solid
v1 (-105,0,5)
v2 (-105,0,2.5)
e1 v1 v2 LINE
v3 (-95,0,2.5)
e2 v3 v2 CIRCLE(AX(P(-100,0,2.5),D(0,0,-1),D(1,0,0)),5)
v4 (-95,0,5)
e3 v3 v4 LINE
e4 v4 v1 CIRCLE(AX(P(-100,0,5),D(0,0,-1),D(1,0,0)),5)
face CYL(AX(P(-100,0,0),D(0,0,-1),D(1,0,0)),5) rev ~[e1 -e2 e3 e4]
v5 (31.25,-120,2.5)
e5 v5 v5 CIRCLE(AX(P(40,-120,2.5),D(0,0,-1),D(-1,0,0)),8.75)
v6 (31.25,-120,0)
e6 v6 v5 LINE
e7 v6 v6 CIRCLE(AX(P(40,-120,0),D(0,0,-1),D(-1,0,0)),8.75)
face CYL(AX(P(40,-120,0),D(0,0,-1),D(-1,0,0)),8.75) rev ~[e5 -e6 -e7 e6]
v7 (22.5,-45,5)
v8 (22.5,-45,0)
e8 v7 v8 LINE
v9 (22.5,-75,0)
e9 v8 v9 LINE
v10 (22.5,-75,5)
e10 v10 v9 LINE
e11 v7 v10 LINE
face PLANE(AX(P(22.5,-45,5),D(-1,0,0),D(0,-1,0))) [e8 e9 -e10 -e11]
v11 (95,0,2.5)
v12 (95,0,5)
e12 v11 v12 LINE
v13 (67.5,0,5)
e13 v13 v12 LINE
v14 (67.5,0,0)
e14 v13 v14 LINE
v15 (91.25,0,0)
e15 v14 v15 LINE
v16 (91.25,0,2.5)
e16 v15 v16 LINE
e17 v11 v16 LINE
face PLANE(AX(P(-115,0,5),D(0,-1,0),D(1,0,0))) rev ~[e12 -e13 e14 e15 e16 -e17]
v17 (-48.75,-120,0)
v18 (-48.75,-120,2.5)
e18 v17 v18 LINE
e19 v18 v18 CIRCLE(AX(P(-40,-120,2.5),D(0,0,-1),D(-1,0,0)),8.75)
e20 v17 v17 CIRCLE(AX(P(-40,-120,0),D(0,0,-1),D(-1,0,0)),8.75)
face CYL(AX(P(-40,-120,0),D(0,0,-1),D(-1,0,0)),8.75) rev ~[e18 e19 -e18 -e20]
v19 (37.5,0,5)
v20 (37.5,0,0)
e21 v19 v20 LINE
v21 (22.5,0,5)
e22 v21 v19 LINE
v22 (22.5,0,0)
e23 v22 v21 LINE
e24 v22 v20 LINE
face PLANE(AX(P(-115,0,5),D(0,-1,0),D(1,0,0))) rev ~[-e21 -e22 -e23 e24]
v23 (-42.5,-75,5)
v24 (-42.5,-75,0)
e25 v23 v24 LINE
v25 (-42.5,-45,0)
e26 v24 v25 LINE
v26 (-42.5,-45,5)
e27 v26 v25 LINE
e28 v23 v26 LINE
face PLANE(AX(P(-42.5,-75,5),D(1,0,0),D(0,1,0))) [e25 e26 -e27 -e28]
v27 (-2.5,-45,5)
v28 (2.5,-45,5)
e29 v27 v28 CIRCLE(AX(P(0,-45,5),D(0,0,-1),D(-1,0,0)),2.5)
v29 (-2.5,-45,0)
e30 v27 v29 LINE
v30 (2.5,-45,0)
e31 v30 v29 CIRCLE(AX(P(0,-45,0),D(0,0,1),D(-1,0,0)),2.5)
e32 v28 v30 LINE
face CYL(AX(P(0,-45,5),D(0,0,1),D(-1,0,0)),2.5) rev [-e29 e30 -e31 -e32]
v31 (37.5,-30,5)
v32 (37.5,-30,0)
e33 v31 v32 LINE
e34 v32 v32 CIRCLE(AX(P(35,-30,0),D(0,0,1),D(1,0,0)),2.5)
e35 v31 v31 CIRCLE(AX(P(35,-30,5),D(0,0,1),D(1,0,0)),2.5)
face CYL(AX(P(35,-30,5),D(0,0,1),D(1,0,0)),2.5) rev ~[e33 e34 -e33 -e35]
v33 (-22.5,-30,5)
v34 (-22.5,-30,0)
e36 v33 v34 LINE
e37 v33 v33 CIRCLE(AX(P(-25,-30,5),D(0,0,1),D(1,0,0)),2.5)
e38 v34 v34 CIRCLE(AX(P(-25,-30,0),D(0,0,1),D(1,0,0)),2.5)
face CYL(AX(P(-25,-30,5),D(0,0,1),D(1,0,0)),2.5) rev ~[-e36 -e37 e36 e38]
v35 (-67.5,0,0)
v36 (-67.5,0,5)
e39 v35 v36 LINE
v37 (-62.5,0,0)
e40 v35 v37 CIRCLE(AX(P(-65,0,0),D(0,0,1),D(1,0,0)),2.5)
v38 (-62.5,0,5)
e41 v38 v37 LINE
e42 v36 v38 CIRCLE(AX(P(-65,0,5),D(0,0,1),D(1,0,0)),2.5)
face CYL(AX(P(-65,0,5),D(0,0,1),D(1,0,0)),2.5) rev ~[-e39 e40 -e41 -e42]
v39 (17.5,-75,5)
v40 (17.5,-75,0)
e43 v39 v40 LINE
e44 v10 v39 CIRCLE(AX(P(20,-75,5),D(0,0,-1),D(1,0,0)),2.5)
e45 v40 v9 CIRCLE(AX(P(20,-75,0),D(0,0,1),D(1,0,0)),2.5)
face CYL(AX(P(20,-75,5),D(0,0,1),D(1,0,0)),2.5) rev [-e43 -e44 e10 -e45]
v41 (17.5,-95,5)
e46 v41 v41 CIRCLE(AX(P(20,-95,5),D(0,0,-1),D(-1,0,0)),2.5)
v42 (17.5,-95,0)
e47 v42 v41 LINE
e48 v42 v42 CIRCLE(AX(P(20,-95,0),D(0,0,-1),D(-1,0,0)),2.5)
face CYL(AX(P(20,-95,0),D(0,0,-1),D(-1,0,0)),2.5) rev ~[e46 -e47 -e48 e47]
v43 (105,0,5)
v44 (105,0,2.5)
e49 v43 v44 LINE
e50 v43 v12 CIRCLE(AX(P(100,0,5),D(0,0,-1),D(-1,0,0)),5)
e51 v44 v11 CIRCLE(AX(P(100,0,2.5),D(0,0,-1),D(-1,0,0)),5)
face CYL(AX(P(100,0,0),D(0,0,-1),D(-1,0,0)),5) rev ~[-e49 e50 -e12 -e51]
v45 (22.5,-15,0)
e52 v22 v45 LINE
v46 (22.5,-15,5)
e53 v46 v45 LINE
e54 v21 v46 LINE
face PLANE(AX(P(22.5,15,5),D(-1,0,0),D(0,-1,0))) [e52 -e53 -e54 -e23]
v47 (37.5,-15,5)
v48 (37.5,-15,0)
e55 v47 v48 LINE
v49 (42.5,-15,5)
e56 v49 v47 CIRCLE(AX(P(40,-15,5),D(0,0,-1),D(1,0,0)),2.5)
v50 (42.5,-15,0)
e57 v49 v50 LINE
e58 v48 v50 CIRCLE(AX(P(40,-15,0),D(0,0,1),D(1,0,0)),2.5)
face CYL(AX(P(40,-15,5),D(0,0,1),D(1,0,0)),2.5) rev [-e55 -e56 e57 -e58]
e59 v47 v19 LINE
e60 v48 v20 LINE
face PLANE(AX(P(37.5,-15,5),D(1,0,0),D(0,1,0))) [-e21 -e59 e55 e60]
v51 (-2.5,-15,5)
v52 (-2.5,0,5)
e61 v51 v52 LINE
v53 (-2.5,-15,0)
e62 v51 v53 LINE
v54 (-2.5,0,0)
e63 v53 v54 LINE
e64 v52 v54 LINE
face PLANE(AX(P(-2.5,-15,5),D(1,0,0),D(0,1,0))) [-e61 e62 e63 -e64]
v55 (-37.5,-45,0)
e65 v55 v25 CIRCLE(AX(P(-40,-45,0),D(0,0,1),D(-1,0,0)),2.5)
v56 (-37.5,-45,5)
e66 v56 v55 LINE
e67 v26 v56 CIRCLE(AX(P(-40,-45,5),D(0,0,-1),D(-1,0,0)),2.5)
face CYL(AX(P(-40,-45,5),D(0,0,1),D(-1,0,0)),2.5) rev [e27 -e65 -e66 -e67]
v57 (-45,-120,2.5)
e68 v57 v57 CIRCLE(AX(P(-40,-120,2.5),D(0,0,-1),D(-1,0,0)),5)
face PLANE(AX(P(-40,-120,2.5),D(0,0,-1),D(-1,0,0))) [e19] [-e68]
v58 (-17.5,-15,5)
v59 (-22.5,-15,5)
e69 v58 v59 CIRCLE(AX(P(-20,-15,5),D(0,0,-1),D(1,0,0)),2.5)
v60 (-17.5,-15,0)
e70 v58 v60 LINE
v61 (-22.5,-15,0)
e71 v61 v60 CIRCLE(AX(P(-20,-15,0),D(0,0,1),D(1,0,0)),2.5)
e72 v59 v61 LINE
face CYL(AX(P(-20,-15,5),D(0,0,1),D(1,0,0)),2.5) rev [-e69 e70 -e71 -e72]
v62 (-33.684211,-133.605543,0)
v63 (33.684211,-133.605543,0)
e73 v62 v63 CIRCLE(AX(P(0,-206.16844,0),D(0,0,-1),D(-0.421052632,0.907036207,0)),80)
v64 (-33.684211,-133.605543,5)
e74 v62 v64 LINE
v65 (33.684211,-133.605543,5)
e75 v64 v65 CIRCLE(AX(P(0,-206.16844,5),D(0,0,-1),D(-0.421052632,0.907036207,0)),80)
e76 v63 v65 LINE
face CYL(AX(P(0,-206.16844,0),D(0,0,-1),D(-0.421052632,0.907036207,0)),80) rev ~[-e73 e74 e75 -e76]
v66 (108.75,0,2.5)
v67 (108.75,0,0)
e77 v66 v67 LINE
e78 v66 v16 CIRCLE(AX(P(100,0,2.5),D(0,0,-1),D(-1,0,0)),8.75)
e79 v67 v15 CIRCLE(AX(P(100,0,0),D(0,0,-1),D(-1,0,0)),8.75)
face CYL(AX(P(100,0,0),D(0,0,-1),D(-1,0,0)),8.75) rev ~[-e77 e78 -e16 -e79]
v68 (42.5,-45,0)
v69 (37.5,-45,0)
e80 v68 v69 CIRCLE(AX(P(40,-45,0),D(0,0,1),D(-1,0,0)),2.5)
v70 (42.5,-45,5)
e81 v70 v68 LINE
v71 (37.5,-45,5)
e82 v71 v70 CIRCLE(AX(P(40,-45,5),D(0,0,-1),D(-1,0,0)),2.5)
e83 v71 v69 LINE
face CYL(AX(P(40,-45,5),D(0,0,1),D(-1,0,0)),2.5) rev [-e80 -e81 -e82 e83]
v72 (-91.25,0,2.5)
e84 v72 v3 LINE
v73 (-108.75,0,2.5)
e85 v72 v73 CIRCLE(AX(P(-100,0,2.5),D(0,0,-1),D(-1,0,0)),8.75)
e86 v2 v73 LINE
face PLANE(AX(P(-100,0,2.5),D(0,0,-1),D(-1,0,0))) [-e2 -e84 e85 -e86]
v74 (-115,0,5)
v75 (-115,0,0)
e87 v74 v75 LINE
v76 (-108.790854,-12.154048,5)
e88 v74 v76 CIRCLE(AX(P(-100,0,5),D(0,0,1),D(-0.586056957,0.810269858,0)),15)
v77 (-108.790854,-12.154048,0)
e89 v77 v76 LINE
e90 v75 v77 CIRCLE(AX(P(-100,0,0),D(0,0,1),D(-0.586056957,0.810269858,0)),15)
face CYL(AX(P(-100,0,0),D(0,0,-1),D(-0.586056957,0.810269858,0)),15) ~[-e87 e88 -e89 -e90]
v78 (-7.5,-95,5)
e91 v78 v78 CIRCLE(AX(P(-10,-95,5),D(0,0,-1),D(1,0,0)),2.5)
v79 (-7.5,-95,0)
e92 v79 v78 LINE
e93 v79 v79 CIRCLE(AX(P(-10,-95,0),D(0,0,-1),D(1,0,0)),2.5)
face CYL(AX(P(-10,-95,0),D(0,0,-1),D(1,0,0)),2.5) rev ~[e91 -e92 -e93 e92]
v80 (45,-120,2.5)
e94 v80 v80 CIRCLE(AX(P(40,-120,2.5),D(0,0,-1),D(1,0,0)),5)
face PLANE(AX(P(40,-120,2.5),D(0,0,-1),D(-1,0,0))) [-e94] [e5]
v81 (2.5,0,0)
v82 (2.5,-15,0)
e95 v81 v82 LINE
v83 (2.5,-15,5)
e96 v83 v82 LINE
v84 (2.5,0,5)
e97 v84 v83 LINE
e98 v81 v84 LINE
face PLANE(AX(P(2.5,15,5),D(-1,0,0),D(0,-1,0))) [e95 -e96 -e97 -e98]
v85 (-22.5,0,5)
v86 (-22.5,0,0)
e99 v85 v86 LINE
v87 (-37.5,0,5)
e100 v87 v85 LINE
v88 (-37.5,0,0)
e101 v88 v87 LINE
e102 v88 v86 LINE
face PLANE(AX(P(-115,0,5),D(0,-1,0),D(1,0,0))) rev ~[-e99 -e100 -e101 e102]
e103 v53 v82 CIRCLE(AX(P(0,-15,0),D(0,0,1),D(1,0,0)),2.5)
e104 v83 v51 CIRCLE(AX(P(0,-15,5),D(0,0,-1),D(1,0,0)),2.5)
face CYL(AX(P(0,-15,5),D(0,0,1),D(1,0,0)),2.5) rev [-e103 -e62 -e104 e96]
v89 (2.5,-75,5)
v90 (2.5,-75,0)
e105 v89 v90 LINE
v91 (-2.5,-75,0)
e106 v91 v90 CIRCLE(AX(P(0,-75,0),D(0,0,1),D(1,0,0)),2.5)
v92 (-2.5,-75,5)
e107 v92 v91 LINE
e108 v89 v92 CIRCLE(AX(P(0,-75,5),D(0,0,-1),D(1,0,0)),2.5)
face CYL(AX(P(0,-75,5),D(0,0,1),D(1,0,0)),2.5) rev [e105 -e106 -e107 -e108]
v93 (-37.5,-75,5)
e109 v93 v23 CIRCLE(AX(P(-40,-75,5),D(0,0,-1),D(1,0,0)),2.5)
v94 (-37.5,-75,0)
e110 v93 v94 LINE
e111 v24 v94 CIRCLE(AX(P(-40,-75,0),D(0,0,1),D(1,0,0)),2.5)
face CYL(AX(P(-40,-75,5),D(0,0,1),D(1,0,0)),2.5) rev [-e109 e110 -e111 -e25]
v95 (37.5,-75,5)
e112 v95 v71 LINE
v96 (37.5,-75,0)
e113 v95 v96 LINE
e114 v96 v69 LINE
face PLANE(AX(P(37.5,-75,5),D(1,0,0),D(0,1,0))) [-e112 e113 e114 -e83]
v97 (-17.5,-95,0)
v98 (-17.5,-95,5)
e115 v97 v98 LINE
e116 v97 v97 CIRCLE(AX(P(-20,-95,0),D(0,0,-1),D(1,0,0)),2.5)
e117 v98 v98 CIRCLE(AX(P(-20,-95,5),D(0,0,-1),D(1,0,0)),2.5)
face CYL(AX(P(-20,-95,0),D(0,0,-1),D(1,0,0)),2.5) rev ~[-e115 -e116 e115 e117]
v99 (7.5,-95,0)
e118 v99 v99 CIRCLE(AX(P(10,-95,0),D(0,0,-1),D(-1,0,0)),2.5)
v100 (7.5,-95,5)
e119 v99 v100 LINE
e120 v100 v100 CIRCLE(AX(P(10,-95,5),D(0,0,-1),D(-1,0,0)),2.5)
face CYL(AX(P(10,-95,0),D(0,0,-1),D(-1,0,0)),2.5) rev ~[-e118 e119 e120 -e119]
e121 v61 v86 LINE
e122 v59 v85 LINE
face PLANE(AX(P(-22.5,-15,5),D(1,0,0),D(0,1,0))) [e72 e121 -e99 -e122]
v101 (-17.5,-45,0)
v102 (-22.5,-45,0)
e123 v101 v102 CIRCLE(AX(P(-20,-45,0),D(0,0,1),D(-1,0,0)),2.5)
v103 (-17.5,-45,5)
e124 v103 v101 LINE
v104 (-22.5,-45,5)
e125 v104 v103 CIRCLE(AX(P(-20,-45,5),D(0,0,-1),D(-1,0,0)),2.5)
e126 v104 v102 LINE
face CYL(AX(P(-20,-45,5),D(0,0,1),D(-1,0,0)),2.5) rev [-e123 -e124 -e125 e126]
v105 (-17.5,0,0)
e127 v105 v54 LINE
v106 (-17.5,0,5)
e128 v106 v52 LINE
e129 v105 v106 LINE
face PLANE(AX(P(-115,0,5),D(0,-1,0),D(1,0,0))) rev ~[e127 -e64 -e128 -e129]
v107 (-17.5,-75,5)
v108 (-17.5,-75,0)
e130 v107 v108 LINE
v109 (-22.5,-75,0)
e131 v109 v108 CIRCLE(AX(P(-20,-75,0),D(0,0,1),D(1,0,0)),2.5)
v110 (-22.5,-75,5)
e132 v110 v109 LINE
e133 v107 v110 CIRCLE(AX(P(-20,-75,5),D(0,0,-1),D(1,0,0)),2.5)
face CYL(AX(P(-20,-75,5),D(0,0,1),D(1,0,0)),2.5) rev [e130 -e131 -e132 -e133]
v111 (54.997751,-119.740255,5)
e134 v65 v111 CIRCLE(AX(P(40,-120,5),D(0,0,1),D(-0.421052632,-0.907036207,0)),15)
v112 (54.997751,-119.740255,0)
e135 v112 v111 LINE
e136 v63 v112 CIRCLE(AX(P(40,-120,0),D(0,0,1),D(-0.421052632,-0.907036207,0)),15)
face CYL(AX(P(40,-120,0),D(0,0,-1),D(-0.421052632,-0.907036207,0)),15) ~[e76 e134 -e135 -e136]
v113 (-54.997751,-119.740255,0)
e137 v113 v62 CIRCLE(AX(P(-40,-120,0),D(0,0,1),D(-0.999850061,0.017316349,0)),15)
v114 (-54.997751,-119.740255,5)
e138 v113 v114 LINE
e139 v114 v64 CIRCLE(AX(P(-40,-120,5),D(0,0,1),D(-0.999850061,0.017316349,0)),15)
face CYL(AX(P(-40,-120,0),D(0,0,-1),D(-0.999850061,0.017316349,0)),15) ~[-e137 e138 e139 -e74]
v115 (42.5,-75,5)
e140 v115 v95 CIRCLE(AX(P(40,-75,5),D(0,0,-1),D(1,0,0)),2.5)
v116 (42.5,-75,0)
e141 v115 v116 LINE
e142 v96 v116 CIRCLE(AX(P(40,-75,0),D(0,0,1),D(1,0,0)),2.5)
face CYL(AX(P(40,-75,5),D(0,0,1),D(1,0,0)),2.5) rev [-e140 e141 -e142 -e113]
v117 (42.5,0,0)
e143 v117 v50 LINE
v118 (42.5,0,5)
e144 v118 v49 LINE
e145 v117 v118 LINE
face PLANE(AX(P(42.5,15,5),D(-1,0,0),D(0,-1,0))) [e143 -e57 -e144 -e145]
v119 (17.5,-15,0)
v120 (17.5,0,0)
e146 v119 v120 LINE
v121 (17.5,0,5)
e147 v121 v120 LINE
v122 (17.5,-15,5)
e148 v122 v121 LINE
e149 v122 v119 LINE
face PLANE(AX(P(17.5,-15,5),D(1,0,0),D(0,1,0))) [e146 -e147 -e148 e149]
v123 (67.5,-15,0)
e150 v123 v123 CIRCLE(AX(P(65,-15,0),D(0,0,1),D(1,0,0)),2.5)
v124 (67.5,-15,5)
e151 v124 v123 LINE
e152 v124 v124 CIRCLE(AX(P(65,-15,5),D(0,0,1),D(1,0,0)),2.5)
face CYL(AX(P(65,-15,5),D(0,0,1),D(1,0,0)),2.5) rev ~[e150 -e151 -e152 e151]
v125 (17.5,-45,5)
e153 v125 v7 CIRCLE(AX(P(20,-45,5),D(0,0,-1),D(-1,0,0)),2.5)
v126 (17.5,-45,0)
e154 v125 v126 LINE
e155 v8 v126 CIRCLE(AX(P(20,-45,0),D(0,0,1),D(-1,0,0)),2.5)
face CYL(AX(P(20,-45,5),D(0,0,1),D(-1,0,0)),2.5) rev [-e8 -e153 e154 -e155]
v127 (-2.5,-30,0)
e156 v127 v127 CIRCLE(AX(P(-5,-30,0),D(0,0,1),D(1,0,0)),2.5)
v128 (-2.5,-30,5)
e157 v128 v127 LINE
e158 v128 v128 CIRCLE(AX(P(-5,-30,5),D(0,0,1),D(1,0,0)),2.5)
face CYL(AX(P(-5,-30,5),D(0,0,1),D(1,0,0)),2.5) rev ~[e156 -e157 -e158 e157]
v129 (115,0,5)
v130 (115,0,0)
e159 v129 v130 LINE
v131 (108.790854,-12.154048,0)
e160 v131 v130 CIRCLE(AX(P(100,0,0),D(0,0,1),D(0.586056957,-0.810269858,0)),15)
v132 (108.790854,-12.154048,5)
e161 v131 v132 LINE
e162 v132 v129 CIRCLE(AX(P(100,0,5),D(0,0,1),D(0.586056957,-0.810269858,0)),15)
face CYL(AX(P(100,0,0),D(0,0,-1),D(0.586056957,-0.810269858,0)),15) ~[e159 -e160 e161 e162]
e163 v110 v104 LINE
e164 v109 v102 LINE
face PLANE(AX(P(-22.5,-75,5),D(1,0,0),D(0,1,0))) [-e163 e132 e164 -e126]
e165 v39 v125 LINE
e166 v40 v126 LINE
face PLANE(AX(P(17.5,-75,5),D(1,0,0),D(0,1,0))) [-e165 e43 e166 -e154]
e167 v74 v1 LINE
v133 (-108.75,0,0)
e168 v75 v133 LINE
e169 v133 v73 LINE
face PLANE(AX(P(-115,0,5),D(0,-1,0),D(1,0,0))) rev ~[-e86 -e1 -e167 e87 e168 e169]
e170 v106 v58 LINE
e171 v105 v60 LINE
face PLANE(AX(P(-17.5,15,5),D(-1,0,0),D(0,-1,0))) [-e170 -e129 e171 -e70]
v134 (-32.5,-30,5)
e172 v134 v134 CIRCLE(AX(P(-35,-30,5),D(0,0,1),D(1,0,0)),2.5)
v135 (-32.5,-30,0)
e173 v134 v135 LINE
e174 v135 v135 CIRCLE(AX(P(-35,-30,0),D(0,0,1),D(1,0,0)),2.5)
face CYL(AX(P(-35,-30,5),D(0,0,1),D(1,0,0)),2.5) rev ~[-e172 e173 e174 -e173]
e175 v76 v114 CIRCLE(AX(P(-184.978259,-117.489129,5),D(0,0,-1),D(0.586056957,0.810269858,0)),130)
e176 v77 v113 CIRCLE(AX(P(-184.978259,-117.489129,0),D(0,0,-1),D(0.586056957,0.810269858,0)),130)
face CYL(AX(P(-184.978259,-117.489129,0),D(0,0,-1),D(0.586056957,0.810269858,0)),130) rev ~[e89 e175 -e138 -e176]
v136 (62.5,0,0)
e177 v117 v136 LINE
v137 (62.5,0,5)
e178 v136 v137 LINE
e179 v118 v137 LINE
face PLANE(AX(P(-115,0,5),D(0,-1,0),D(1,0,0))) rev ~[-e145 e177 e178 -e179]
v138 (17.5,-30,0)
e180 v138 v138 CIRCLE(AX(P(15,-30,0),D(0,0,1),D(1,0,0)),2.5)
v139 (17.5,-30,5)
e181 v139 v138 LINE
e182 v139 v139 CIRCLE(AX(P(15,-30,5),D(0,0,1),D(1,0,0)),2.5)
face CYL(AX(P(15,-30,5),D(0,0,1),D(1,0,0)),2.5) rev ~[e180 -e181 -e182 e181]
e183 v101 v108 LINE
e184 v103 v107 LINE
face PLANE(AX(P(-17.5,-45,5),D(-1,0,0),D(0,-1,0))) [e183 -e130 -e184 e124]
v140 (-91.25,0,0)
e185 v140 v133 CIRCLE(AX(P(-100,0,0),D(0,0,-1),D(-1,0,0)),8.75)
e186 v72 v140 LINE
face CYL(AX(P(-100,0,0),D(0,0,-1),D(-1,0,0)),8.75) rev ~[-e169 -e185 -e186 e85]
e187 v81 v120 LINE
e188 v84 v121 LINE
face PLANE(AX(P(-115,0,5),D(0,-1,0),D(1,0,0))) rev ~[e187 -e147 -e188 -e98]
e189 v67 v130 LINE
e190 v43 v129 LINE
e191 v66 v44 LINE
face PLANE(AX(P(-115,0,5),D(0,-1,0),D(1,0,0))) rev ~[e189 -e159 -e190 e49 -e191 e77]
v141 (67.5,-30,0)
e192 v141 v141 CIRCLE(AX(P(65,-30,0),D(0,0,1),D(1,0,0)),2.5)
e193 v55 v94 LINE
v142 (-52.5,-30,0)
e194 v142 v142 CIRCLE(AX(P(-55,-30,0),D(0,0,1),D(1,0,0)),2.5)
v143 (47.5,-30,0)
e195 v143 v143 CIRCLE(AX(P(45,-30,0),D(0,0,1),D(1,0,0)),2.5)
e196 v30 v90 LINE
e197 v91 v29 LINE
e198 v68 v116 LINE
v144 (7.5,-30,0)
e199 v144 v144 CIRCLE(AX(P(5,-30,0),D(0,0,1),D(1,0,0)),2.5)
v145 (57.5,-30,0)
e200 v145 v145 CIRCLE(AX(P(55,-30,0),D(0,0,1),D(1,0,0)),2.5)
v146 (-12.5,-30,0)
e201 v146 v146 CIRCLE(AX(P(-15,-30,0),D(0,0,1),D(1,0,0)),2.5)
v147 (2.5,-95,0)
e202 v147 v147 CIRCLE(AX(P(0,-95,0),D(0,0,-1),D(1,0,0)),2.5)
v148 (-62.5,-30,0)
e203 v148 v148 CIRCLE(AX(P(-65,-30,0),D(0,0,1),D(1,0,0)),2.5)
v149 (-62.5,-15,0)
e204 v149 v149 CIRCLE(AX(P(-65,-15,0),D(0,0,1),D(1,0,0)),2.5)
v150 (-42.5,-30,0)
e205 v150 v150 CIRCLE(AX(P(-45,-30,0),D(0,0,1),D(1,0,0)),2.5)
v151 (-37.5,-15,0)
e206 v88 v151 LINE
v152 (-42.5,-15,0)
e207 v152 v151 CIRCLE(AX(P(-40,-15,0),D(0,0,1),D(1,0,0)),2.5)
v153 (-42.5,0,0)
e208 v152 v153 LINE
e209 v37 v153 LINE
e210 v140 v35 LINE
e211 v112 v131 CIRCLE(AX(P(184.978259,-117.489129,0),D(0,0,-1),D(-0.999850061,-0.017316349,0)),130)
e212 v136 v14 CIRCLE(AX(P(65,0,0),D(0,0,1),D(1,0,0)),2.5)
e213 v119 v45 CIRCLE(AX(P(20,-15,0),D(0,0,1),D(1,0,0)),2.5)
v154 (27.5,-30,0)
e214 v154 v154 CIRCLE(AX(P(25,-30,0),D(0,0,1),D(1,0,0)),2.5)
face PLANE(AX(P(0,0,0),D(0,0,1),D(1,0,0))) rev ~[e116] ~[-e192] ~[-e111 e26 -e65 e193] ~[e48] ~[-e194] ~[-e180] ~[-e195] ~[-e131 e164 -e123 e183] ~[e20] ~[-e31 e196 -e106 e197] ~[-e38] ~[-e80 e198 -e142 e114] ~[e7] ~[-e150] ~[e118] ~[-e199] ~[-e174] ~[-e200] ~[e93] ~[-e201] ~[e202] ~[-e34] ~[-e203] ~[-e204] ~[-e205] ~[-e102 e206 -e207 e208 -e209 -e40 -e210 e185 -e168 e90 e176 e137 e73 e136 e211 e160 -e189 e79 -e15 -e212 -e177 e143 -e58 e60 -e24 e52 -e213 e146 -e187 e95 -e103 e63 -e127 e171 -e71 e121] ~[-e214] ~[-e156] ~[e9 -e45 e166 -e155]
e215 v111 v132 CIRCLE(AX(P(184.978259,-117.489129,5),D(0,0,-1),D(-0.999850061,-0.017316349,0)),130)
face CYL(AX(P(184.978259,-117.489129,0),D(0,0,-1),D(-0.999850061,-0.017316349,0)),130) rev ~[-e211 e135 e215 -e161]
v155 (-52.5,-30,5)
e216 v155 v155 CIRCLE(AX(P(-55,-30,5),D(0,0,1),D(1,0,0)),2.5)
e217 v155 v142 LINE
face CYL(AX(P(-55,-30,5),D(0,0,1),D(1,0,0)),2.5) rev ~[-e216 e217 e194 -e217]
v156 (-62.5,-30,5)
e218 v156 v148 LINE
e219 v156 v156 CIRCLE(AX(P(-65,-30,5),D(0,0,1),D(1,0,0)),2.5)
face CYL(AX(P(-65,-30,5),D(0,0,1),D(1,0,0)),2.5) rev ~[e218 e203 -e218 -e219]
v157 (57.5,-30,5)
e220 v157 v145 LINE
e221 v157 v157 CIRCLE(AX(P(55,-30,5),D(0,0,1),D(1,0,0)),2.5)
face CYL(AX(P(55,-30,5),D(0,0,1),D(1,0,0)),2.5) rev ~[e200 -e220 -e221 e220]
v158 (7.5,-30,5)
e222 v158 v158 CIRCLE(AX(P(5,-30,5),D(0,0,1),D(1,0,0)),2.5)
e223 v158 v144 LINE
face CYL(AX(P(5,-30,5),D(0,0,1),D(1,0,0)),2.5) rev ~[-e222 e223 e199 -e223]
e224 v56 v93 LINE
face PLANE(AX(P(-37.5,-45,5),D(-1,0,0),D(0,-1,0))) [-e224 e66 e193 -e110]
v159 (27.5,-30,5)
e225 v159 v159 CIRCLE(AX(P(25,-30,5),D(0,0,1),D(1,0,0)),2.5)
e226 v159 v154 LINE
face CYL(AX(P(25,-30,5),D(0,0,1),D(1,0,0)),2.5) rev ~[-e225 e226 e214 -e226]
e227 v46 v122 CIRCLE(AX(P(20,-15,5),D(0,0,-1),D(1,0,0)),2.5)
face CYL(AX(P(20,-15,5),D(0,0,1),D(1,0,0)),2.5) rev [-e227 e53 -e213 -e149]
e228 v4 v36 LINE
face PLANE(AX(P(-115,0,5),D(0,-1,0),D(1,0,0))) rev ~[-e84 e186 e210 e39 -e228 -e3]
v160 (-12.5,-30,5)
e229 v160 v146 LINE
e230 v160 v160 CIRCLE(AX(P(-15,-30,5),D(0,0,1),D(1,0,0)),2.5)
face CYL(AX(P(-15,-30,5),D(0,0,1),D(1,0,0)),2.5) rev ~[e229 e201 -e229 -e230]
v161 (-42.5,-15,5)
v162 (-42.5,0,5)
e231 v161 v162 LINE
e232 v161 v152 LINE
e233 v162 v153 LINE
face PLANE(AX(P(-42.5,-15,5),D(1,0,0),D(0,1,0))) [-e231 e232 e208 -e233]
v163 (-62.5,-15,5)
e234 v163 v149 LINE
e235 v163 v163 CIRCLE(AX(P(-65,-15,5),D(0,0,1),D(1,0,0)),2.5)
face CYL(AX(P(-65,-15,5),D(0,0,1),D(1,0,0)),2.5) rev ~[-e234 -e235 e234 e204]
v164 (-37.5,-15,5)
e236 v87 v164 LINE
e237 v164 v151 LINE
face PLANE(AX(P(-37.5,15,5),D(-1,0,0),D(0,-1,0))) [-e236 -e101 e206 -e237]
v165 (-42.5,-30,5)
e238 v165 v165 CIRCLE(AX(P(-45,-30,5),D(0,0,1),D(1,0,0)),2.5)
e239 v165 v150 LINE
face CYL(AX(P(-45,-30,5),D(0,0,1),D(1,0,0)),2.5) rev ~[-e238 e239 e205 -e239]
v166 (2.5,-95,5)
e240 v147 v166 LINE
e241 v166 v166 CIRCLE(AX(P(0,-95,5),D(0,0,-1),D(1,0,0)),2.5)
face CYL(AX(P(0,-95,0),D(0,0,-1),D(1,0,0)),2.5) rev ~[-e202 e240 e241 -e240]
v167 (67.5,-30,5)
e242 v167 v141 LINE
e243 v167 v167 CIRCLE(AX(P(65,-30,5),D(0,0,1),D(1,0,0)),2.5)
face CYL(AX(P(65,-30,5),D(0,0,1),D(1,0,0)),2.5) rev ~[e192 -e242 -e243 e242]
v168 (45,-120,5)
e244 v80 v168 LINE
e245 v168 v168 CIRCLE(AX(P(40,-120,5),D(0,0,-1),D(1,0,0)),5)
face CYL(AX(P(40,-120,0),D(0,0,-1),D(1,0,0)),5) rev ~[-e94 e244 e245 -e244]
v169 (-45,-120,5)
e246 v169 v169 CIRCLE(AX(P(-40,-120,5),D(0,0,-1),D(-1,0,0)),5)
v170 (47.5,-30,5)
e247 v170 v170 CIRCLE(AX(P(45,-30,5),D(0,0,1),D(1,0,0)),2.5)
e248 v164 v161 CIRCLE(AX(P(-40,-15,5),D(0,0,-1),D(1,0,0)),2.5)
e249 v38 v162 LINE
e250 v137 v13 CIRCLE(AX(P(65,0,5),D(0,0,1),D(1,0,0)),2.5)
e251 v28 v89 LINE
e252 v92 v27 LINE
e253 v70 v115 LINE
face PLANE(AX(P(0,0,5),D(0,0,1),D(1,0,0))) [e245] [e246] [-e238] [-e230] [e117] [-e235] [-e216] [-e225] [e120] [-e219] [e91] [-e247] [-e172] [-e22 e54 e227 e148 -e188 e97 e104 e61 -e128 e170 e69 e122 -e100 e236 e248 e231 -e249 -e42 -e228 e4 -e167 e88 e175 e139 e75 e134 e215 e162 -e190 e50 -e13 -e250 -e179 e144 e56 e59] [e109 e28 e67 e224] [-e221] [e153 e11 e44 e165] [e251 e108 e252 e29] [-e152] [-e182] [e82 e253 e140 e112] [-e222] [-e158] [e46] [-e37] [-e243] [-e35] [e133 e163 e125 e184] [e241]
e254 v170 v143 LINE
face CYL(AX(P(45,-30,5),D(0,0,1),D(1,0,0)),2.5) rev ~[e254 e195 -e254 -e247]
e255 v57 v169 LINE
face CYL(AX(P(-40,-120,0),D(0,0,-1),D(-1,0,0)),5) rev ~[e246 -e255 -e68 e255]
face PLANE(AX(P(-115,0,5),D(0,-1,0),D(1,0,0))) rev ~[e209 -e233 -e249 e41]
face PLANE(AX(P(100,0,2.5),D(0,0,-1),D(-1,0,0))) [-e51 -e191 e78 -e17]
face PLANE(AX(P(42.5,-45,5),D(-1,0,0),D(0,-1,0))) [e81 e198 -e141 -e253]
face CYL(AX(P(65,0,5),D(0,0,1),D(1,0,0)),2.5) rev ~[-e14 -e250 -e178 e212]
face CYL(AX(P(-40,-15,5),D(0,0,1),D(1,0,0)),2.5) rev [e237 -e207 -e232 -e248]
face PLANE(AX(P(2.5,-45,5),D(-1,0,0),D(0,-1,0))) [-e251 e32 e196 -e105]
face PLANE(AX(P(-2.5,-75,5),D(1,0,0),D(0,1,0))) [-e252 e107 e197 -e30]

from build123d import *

# Parameters (mm, degrees)
BOSS_EXTRUDE1_DEPTH = 5
SKETCH2_R           = 5
CUT_EXTRUDE1_DEPTH  = 178.411949992
SKETCH5_R           = 2.5
CUT_EXTRUDE4_DEPTH  = 12.5
CUT_EXTRUDE5_DEPTH  = 10
SKETCH7_R           = 2.5
CUT_EXTRUDE6_DEPTH  = 10
SKETCH8_R           = 2.5
CUT_EXTRUDE7_DEPTH  = 10
SKETCH9_R           = 8.75
CUT_EXTRUDE8_DEPTH  = 2.5
SKETCH10_W          = 230
SKETCH10_H          = 135
CUT_EXTRUDE9_DEPTH  = 10


with BuildPart() as part:
    # Sketch1 → Boss-Extrude1 (new body)
    with BuildSketch(Plane.XY):
        with BuildLine():
            ThreePointArc((108.79085436, -12.15404787), (115, 0), (108.79085436, 12.15404787))
            ThreePointArc((108.79085436, 12.15404787), (68.702723984, 59.351361992), (54.997750912, 119.740254766))
            ThreePointArc((54.997750912, 119.740254766), (48.179588548, 132.573556823), (33.684210526, 133.60554311))
            ThreePointArc((33.684210526, 133.60554311), (0, 126.168439698), (-33.684210526, 133.60554311))
            ThreePointArc((-33.684210526, 133.60554311), (-48.179588548, 132.573556823), (-54.997750912, 119.740254766))
            ThreePointArc((-54.997750912, 119.740254766), (-68.702723984, 59.351361992), (-108.79085436, 12.15404787))
            ThreePointArc((-108.79085436, 12.15404787), (-115, 0), (-108.79085436, -12.15404787))
            ThreePointArc((-108.79085436, -12.15404787), (-68.702723984, -59.351361992), (-54.997750912, -119.740254766))
            ThreePointArc((-54.997750912, -119.740254766), (-48.179588548, -132.573556823), (-33.684210526, -133.60554311))
            ThreePointArc((-33.684210526, -133.60554311), (0, -126.168439698), (33.684210526, -133.60554311))
            ThreePointArc((33.684210526, -133.60554311), (48.179588548, -132.573556823), (54.997750912, -119.740254766))
            ThreePointArc((54.997750912, -119.740254766), (68.702723984, -59.351361992), (108.79085436, -12.15404787))
        make_face()
    extrude(amount=BOSS_EXTRUDE1_DEPTH)

    # Sketch2 → Cut-Extrude1 (cut, through all)
    with BuildSketch(Plane(origin=(0, 0, 0), x_dir=(-1, 0, 0), z_dir=(0, 0, -1))):
        with Locations((-40, 120)):
            Circle(SKETCH2_R)
        with Locations((-100, 0)):
            Circle(SKETCH2_R)
        with Locations(Location((100, 0, 0), (0, 0, 180))):
            Circle(SKETCH2_R)
        with Locations(Location((40, 120, 0), (0, 0, 180))):
            Circle(SKETCH2_R)
        with Locations((40, -120)):
            Circle(SKETCH2_R)
        with Locations(Location((-40, -120, 0), (0, 0, 180))):
            Circle(SKETCH2_R)
    extrude(amount=-CUT_EXTRUDE1_DEPTH, mode=Mode.SUBTRACT)

    # Sketch5 → Cut-Extrude4 (cut)
    with BuildSketch(Plane(origin=(0, 0, 0), x_dir=(-1, 0, 0), z_dir=(0, 0, -1))):
        with Locations((20, 95)):
            Circle(SKETCH5_R)
        with Locations((0, 95)):
            Circle(SKETCH5_R)
        with Locations((10, 95)):
            Circle(SKETCH5_R)
        with Locations(Location((10, -95, 0), (0, 0, 180))):
            Circle(SKETCH5_R)
        with Locations(Location((0, -95, 0), (0, 0, 180))):
            Circle(SKETCH5_R)
        with Locations(Location((20, -95, 0), (0, 0, 180))):
            Circle(SKETCH5_R)
        with Locations(Location((-20, 95, 0), (0, 0, 180))):
            Circle(SKETCH5_R)
        with Locations(Location((-10, 95, 0), (0, 0, 180))):
            Circle(SKETCH5_R)
        with Locations((-20, -95)):
            Circle(SKETCH5_R)
        with Locations((-10, -95)):
            Circle(SKETCH5_R)
    extrude(amount=-CUT_EXTRUDE4_DEPTH, mode=Mode.SUBTRACT)

    # Sketch6 → Cut-Extrude5 (cut)
    with BuildSketch(Plane.XY.offset(5)):
        with BuildLine():
            Line((42.5, 75), (42.5, 45))
            ThreePointArc((42.5, 45), (40, 42.5), (37.5, 45))
            Line((37.5, 45), (37.5, 75))
            ThreePointArc((37.5, 75), (40, 77.5), (42.5, 75))
        make_face()
        with BuildLine():
            Line((22.5, 75), (22.5, 45))
            ThreePointArc((22.5, 45), (20, 42.5), (17.5, 45))
            Line((17.5, 45), (17.5, 75))
            ThreePointArc((17.5, 75), (20, 77.5), (22.5, 75))
        make_face()
        with BuildLine():
            Line((2.5, 75), (2.5, 45))
            ThreePointArc((2.5, 45), (0, 42.5), (-2.5, 45))
            Line((-2.5, 45), (-2.5, 75))
            ThreePointArc((-2.5, 75), (0, 77.5), (2.5, 75))
        make_face()
        with BuildLine():
            Line((-17.5, 75), (-17.5, 45))
            ThreePointArc((-17.5, 45), (-20, 42.5), (-22.5, 45))
            Line((-22.5, 45), (-22.5, 75))
            ThreePointArc((-22.5, 75), (-20, 77.5), (-17.5, 75))
        make_face()
        with BuildLine():
            Line((-37.5, 75), (-37.5, 45))
            ThreePointArc((-37.5, 45), (-40, 42.5), (-42.5, 45))
            Line((-42.5, 45), (-42.5, 75))
            ThreePointArc((-42.5, 75), (-40, 77.5), (-37.5, 75))
        make_face()
        with BuildLine():
            Line((42.5, 15), (42.5, -15))
            ThreePointArc((42.5, -15), (40, -17.5), (37.5, -15))
            Line((37.5, -15), (37.5, 15))
            ThreePointArc((37.5, 15), (40, 17.5), (42.5, 15))
        make_face()
        with BuildLine():
            Line((22.5, 15), (22.5, -15))
            ThreePointArc((22.5, -15), (20, -17.5), (17.5, -15))
            Line((17.5, -15), (17.5, 15))
            ThreePointArc((17.5, 15), (20, 17.5), (22.5, 15))
        make_face()
        with BuildLine():
            Line((2.5, 15), (2.5, -15))
            ThreePointArc((2.5, -15), (0, -17.5), (-2.5, -15))
            Line((-2.5, -15), (-2.5, 15))
            ThreePointArc((-2.5, 15), (0, 17.5), (2.5, 15))
        make_face()
        with BuildLine():
            Line((-17.5, 15), (-17.5, -15))
            ThreePointArc((-17.5, -15), (-20, -17.5), (-22.5, -15))
            Line((-22.5, -15), (-22.5, 15))
            ThreePointArc((-22.5, 15), (-20, 17.5), (-17.5, 15))
        make_face()
        with BuildLine():
            Line((-37.5, 15), (-37.5, -15))
            ThreePointArc((-37.5, -15), (-40, -17.5), (-42.5, -15))
            Line((-42.5, -15), (-42.5, 15))
            ThreePointArc((-42.5, 15), (-40, 17.5), (-37.5, 15))
        make_face()
        with BuildLine():
            Line((42.5, -45), (42.5, -75))
            ThreePointArc((42.5, -75), (40, -77.5), (37.5, -75))
            Line((37.5, -75), (37.5, -45))
            ThreePointArc((37.5, -45), (40, -42.5), (42.5, -45))
        make_face()
        with BuildLine():
            Line((22.5, -45), (22.5, -75))
            ThreePointArc((22.5, -75), (20, -77.5), (17.5, -75))
            Line((17.5, -75), (17.5, -45))
            ThreePointArc((17.5, -45), (20, -42.5), (22.5, -45))
        make_face()
        with BuildLine():
            Line((2.5, -45), (2.5, -75))
            ThreePointArc((2.5, -75), (0, -77.5), (-2.5, -75))
            Line((-2.5, -75), (-2.5, -45))
            ThreePointArc((-2.5, -45), (0, -42.5), (2.5, -45))
        make_face()
        with BuildLine():
            Line((-17.5, -45), (-17.5, -75))
            ThreePointArc((-17.5, -75), (-20, -77.5), (-22.5, -75))
            Line((-22.5, -75), (-22.5, -45))
            ThreePointArc((-22.5, -45), (-20, -42.5), (-17.5, -45))
        make_face()
        with BuildLine():
            Line((-37.5, -45), (-37.5, -75))
            ThreePointArc((-37.5, -75), (-40, -77.5), (-42.5, -75))
            Line((-42.5, -75), (-42.5, -45))
            ThreePointArc((-42.5, -45), (-40, -42.5), (-37.5, -45))
        make_face()
    extrude(amount=-CUT_EXTRUDE5_DEPTH, mode=Mode.SUBTRACT)

    # Sketch7 → Cut-Extrude6 (cut)
    with BuildSketch(Plane.XY.offset(5)):
        with Locations((-65, 30)):
            Circle(SKETCH7_R)
        with Locations((-55, 30)):
            Circle(SKETCH7_R)
        with Locations((-45, 30)):
            Circle(SKETCH7_R)
        with Locations((-35, 30)):
            Circle(SKETCH7_R)
        with Locations((-25, 30)):
            Circle(SKETCH7_R)
        with Locations((-15, 30)):
            Circle(SKETCH7_R)
        with Locations((-5, 30)):
            Circle(SKETCH7_R)
        with Locations((5, 30)):
            Circle(SKETCH7_R)
        with Locations((15, 30)):
            Circle(SKETCH7_R)
        with Locations((25, 30)):
            Circle(SKETCH7_R)
        with Locations((35, 30)):
            Circle(SKETCH7_R)
        with Locations((45, 30)):
            Circle(SKETCH7_R)
        with Locations((55, 30)):
            Circle(SKETCH7_R)
        with Locations((65, 30)):
            Circle(SKETCH7_R)
        with Locations((65, -30)):
            Circle(SKETCH7_R)
        with Locations((55, -30)):
            Circle(SKETCH7_R)
        with Locations((45, -30)):
            Circle(SKETCH7_R)
        with Locations((35, -30)):
            Circle(SKETCH7_R)
        with Locations((25, -30)):
            Circle(SKETCH7_R)
        with Locations((15, -30)):
            Circle(SKETCH7_R)
        with Locations((5, -30)):
            Circle(SKETCH7_R)
        with Locations((-5, -30)):
            Circle(SKETCH7_R)
        with Locations((-15, -30)):
            Circle(SKETCH7_R)
        with Locations((-25, -30)):
            Circle(SKETCH7_R)
        with Locations((-35, -30)):
            Circle(SKETCH7_R)
        with Locations((-45, -30)):
            Circle(SKETCH7_R)
        with Locations((-55, -30)):
            Circle(SKETCH7_R)
        with Locations((-65, -30)):
            Circle(SKETCH7_R)
    extrude(amount=-CUT_EXTRUDE6_DEPTH, mode=Mode.SUBTRACT)

    # Sketch8 → Cut-Extrude7 (cut)
    with BuildSketch(Plane.XY.offset(5)):
        with Locations((-65, 0)):
            Circle(SKETCH8_R)
        with Locations((-65, 15)):
            Circle(SKETCH8_R)
        with Locations((-65, -15)):
            Circle(SKETCH8_R)
        with Locations((65, -15)):
            Circle(SKETCH8_R)
        with Locations((65, 0)):
            Circle(SKETCH8_R)
        with Locations((65, 15)):
            Circle(SKETCH8_R)
    extrude(amount=-CUT_EXTRUDE7_DEPTH, mode=Mode.SUBTRACT)

    # Sketch9 → Cut-Extrude8 (cut)
    with BuildSketch(Plane(origin=(0, 0, 0), x_dir=(-1, 0, 0), z_dir=(0, 0, -1))):
        with Locations((100, 0)):
            Circle(SKETCH9_R)
        with Locations((40, 120)):
            Circle(SKETCH9_R)
        with Locations((40, -120)):
            Circle(SKETCH9_R)
        with Locations((-40, -120)):
            Circle(SKETCH9_R)
        with Locations((-100, 0)):
            Circle(SKETCH9_R)
        with Locations((-40, 120)):
            Circle(SKETCH9_R)
    extrude(amount=-CUT_EXTRUDE8_DEPTH, mode=Mode.SUBTRACT)

    # Sketch10 → Cut-Extrude9 (cut)
    with BuildSketch(Plane.XY.offset(5)):
        with Locations((0, 67.5)):
            Rectangle(SKETCH10_W, SKETCH10_H)
    extrude(amount=-CUT_EXTRUDE9_DEPTH, mode=Mode.SUBTRACT)


solid = part.part
